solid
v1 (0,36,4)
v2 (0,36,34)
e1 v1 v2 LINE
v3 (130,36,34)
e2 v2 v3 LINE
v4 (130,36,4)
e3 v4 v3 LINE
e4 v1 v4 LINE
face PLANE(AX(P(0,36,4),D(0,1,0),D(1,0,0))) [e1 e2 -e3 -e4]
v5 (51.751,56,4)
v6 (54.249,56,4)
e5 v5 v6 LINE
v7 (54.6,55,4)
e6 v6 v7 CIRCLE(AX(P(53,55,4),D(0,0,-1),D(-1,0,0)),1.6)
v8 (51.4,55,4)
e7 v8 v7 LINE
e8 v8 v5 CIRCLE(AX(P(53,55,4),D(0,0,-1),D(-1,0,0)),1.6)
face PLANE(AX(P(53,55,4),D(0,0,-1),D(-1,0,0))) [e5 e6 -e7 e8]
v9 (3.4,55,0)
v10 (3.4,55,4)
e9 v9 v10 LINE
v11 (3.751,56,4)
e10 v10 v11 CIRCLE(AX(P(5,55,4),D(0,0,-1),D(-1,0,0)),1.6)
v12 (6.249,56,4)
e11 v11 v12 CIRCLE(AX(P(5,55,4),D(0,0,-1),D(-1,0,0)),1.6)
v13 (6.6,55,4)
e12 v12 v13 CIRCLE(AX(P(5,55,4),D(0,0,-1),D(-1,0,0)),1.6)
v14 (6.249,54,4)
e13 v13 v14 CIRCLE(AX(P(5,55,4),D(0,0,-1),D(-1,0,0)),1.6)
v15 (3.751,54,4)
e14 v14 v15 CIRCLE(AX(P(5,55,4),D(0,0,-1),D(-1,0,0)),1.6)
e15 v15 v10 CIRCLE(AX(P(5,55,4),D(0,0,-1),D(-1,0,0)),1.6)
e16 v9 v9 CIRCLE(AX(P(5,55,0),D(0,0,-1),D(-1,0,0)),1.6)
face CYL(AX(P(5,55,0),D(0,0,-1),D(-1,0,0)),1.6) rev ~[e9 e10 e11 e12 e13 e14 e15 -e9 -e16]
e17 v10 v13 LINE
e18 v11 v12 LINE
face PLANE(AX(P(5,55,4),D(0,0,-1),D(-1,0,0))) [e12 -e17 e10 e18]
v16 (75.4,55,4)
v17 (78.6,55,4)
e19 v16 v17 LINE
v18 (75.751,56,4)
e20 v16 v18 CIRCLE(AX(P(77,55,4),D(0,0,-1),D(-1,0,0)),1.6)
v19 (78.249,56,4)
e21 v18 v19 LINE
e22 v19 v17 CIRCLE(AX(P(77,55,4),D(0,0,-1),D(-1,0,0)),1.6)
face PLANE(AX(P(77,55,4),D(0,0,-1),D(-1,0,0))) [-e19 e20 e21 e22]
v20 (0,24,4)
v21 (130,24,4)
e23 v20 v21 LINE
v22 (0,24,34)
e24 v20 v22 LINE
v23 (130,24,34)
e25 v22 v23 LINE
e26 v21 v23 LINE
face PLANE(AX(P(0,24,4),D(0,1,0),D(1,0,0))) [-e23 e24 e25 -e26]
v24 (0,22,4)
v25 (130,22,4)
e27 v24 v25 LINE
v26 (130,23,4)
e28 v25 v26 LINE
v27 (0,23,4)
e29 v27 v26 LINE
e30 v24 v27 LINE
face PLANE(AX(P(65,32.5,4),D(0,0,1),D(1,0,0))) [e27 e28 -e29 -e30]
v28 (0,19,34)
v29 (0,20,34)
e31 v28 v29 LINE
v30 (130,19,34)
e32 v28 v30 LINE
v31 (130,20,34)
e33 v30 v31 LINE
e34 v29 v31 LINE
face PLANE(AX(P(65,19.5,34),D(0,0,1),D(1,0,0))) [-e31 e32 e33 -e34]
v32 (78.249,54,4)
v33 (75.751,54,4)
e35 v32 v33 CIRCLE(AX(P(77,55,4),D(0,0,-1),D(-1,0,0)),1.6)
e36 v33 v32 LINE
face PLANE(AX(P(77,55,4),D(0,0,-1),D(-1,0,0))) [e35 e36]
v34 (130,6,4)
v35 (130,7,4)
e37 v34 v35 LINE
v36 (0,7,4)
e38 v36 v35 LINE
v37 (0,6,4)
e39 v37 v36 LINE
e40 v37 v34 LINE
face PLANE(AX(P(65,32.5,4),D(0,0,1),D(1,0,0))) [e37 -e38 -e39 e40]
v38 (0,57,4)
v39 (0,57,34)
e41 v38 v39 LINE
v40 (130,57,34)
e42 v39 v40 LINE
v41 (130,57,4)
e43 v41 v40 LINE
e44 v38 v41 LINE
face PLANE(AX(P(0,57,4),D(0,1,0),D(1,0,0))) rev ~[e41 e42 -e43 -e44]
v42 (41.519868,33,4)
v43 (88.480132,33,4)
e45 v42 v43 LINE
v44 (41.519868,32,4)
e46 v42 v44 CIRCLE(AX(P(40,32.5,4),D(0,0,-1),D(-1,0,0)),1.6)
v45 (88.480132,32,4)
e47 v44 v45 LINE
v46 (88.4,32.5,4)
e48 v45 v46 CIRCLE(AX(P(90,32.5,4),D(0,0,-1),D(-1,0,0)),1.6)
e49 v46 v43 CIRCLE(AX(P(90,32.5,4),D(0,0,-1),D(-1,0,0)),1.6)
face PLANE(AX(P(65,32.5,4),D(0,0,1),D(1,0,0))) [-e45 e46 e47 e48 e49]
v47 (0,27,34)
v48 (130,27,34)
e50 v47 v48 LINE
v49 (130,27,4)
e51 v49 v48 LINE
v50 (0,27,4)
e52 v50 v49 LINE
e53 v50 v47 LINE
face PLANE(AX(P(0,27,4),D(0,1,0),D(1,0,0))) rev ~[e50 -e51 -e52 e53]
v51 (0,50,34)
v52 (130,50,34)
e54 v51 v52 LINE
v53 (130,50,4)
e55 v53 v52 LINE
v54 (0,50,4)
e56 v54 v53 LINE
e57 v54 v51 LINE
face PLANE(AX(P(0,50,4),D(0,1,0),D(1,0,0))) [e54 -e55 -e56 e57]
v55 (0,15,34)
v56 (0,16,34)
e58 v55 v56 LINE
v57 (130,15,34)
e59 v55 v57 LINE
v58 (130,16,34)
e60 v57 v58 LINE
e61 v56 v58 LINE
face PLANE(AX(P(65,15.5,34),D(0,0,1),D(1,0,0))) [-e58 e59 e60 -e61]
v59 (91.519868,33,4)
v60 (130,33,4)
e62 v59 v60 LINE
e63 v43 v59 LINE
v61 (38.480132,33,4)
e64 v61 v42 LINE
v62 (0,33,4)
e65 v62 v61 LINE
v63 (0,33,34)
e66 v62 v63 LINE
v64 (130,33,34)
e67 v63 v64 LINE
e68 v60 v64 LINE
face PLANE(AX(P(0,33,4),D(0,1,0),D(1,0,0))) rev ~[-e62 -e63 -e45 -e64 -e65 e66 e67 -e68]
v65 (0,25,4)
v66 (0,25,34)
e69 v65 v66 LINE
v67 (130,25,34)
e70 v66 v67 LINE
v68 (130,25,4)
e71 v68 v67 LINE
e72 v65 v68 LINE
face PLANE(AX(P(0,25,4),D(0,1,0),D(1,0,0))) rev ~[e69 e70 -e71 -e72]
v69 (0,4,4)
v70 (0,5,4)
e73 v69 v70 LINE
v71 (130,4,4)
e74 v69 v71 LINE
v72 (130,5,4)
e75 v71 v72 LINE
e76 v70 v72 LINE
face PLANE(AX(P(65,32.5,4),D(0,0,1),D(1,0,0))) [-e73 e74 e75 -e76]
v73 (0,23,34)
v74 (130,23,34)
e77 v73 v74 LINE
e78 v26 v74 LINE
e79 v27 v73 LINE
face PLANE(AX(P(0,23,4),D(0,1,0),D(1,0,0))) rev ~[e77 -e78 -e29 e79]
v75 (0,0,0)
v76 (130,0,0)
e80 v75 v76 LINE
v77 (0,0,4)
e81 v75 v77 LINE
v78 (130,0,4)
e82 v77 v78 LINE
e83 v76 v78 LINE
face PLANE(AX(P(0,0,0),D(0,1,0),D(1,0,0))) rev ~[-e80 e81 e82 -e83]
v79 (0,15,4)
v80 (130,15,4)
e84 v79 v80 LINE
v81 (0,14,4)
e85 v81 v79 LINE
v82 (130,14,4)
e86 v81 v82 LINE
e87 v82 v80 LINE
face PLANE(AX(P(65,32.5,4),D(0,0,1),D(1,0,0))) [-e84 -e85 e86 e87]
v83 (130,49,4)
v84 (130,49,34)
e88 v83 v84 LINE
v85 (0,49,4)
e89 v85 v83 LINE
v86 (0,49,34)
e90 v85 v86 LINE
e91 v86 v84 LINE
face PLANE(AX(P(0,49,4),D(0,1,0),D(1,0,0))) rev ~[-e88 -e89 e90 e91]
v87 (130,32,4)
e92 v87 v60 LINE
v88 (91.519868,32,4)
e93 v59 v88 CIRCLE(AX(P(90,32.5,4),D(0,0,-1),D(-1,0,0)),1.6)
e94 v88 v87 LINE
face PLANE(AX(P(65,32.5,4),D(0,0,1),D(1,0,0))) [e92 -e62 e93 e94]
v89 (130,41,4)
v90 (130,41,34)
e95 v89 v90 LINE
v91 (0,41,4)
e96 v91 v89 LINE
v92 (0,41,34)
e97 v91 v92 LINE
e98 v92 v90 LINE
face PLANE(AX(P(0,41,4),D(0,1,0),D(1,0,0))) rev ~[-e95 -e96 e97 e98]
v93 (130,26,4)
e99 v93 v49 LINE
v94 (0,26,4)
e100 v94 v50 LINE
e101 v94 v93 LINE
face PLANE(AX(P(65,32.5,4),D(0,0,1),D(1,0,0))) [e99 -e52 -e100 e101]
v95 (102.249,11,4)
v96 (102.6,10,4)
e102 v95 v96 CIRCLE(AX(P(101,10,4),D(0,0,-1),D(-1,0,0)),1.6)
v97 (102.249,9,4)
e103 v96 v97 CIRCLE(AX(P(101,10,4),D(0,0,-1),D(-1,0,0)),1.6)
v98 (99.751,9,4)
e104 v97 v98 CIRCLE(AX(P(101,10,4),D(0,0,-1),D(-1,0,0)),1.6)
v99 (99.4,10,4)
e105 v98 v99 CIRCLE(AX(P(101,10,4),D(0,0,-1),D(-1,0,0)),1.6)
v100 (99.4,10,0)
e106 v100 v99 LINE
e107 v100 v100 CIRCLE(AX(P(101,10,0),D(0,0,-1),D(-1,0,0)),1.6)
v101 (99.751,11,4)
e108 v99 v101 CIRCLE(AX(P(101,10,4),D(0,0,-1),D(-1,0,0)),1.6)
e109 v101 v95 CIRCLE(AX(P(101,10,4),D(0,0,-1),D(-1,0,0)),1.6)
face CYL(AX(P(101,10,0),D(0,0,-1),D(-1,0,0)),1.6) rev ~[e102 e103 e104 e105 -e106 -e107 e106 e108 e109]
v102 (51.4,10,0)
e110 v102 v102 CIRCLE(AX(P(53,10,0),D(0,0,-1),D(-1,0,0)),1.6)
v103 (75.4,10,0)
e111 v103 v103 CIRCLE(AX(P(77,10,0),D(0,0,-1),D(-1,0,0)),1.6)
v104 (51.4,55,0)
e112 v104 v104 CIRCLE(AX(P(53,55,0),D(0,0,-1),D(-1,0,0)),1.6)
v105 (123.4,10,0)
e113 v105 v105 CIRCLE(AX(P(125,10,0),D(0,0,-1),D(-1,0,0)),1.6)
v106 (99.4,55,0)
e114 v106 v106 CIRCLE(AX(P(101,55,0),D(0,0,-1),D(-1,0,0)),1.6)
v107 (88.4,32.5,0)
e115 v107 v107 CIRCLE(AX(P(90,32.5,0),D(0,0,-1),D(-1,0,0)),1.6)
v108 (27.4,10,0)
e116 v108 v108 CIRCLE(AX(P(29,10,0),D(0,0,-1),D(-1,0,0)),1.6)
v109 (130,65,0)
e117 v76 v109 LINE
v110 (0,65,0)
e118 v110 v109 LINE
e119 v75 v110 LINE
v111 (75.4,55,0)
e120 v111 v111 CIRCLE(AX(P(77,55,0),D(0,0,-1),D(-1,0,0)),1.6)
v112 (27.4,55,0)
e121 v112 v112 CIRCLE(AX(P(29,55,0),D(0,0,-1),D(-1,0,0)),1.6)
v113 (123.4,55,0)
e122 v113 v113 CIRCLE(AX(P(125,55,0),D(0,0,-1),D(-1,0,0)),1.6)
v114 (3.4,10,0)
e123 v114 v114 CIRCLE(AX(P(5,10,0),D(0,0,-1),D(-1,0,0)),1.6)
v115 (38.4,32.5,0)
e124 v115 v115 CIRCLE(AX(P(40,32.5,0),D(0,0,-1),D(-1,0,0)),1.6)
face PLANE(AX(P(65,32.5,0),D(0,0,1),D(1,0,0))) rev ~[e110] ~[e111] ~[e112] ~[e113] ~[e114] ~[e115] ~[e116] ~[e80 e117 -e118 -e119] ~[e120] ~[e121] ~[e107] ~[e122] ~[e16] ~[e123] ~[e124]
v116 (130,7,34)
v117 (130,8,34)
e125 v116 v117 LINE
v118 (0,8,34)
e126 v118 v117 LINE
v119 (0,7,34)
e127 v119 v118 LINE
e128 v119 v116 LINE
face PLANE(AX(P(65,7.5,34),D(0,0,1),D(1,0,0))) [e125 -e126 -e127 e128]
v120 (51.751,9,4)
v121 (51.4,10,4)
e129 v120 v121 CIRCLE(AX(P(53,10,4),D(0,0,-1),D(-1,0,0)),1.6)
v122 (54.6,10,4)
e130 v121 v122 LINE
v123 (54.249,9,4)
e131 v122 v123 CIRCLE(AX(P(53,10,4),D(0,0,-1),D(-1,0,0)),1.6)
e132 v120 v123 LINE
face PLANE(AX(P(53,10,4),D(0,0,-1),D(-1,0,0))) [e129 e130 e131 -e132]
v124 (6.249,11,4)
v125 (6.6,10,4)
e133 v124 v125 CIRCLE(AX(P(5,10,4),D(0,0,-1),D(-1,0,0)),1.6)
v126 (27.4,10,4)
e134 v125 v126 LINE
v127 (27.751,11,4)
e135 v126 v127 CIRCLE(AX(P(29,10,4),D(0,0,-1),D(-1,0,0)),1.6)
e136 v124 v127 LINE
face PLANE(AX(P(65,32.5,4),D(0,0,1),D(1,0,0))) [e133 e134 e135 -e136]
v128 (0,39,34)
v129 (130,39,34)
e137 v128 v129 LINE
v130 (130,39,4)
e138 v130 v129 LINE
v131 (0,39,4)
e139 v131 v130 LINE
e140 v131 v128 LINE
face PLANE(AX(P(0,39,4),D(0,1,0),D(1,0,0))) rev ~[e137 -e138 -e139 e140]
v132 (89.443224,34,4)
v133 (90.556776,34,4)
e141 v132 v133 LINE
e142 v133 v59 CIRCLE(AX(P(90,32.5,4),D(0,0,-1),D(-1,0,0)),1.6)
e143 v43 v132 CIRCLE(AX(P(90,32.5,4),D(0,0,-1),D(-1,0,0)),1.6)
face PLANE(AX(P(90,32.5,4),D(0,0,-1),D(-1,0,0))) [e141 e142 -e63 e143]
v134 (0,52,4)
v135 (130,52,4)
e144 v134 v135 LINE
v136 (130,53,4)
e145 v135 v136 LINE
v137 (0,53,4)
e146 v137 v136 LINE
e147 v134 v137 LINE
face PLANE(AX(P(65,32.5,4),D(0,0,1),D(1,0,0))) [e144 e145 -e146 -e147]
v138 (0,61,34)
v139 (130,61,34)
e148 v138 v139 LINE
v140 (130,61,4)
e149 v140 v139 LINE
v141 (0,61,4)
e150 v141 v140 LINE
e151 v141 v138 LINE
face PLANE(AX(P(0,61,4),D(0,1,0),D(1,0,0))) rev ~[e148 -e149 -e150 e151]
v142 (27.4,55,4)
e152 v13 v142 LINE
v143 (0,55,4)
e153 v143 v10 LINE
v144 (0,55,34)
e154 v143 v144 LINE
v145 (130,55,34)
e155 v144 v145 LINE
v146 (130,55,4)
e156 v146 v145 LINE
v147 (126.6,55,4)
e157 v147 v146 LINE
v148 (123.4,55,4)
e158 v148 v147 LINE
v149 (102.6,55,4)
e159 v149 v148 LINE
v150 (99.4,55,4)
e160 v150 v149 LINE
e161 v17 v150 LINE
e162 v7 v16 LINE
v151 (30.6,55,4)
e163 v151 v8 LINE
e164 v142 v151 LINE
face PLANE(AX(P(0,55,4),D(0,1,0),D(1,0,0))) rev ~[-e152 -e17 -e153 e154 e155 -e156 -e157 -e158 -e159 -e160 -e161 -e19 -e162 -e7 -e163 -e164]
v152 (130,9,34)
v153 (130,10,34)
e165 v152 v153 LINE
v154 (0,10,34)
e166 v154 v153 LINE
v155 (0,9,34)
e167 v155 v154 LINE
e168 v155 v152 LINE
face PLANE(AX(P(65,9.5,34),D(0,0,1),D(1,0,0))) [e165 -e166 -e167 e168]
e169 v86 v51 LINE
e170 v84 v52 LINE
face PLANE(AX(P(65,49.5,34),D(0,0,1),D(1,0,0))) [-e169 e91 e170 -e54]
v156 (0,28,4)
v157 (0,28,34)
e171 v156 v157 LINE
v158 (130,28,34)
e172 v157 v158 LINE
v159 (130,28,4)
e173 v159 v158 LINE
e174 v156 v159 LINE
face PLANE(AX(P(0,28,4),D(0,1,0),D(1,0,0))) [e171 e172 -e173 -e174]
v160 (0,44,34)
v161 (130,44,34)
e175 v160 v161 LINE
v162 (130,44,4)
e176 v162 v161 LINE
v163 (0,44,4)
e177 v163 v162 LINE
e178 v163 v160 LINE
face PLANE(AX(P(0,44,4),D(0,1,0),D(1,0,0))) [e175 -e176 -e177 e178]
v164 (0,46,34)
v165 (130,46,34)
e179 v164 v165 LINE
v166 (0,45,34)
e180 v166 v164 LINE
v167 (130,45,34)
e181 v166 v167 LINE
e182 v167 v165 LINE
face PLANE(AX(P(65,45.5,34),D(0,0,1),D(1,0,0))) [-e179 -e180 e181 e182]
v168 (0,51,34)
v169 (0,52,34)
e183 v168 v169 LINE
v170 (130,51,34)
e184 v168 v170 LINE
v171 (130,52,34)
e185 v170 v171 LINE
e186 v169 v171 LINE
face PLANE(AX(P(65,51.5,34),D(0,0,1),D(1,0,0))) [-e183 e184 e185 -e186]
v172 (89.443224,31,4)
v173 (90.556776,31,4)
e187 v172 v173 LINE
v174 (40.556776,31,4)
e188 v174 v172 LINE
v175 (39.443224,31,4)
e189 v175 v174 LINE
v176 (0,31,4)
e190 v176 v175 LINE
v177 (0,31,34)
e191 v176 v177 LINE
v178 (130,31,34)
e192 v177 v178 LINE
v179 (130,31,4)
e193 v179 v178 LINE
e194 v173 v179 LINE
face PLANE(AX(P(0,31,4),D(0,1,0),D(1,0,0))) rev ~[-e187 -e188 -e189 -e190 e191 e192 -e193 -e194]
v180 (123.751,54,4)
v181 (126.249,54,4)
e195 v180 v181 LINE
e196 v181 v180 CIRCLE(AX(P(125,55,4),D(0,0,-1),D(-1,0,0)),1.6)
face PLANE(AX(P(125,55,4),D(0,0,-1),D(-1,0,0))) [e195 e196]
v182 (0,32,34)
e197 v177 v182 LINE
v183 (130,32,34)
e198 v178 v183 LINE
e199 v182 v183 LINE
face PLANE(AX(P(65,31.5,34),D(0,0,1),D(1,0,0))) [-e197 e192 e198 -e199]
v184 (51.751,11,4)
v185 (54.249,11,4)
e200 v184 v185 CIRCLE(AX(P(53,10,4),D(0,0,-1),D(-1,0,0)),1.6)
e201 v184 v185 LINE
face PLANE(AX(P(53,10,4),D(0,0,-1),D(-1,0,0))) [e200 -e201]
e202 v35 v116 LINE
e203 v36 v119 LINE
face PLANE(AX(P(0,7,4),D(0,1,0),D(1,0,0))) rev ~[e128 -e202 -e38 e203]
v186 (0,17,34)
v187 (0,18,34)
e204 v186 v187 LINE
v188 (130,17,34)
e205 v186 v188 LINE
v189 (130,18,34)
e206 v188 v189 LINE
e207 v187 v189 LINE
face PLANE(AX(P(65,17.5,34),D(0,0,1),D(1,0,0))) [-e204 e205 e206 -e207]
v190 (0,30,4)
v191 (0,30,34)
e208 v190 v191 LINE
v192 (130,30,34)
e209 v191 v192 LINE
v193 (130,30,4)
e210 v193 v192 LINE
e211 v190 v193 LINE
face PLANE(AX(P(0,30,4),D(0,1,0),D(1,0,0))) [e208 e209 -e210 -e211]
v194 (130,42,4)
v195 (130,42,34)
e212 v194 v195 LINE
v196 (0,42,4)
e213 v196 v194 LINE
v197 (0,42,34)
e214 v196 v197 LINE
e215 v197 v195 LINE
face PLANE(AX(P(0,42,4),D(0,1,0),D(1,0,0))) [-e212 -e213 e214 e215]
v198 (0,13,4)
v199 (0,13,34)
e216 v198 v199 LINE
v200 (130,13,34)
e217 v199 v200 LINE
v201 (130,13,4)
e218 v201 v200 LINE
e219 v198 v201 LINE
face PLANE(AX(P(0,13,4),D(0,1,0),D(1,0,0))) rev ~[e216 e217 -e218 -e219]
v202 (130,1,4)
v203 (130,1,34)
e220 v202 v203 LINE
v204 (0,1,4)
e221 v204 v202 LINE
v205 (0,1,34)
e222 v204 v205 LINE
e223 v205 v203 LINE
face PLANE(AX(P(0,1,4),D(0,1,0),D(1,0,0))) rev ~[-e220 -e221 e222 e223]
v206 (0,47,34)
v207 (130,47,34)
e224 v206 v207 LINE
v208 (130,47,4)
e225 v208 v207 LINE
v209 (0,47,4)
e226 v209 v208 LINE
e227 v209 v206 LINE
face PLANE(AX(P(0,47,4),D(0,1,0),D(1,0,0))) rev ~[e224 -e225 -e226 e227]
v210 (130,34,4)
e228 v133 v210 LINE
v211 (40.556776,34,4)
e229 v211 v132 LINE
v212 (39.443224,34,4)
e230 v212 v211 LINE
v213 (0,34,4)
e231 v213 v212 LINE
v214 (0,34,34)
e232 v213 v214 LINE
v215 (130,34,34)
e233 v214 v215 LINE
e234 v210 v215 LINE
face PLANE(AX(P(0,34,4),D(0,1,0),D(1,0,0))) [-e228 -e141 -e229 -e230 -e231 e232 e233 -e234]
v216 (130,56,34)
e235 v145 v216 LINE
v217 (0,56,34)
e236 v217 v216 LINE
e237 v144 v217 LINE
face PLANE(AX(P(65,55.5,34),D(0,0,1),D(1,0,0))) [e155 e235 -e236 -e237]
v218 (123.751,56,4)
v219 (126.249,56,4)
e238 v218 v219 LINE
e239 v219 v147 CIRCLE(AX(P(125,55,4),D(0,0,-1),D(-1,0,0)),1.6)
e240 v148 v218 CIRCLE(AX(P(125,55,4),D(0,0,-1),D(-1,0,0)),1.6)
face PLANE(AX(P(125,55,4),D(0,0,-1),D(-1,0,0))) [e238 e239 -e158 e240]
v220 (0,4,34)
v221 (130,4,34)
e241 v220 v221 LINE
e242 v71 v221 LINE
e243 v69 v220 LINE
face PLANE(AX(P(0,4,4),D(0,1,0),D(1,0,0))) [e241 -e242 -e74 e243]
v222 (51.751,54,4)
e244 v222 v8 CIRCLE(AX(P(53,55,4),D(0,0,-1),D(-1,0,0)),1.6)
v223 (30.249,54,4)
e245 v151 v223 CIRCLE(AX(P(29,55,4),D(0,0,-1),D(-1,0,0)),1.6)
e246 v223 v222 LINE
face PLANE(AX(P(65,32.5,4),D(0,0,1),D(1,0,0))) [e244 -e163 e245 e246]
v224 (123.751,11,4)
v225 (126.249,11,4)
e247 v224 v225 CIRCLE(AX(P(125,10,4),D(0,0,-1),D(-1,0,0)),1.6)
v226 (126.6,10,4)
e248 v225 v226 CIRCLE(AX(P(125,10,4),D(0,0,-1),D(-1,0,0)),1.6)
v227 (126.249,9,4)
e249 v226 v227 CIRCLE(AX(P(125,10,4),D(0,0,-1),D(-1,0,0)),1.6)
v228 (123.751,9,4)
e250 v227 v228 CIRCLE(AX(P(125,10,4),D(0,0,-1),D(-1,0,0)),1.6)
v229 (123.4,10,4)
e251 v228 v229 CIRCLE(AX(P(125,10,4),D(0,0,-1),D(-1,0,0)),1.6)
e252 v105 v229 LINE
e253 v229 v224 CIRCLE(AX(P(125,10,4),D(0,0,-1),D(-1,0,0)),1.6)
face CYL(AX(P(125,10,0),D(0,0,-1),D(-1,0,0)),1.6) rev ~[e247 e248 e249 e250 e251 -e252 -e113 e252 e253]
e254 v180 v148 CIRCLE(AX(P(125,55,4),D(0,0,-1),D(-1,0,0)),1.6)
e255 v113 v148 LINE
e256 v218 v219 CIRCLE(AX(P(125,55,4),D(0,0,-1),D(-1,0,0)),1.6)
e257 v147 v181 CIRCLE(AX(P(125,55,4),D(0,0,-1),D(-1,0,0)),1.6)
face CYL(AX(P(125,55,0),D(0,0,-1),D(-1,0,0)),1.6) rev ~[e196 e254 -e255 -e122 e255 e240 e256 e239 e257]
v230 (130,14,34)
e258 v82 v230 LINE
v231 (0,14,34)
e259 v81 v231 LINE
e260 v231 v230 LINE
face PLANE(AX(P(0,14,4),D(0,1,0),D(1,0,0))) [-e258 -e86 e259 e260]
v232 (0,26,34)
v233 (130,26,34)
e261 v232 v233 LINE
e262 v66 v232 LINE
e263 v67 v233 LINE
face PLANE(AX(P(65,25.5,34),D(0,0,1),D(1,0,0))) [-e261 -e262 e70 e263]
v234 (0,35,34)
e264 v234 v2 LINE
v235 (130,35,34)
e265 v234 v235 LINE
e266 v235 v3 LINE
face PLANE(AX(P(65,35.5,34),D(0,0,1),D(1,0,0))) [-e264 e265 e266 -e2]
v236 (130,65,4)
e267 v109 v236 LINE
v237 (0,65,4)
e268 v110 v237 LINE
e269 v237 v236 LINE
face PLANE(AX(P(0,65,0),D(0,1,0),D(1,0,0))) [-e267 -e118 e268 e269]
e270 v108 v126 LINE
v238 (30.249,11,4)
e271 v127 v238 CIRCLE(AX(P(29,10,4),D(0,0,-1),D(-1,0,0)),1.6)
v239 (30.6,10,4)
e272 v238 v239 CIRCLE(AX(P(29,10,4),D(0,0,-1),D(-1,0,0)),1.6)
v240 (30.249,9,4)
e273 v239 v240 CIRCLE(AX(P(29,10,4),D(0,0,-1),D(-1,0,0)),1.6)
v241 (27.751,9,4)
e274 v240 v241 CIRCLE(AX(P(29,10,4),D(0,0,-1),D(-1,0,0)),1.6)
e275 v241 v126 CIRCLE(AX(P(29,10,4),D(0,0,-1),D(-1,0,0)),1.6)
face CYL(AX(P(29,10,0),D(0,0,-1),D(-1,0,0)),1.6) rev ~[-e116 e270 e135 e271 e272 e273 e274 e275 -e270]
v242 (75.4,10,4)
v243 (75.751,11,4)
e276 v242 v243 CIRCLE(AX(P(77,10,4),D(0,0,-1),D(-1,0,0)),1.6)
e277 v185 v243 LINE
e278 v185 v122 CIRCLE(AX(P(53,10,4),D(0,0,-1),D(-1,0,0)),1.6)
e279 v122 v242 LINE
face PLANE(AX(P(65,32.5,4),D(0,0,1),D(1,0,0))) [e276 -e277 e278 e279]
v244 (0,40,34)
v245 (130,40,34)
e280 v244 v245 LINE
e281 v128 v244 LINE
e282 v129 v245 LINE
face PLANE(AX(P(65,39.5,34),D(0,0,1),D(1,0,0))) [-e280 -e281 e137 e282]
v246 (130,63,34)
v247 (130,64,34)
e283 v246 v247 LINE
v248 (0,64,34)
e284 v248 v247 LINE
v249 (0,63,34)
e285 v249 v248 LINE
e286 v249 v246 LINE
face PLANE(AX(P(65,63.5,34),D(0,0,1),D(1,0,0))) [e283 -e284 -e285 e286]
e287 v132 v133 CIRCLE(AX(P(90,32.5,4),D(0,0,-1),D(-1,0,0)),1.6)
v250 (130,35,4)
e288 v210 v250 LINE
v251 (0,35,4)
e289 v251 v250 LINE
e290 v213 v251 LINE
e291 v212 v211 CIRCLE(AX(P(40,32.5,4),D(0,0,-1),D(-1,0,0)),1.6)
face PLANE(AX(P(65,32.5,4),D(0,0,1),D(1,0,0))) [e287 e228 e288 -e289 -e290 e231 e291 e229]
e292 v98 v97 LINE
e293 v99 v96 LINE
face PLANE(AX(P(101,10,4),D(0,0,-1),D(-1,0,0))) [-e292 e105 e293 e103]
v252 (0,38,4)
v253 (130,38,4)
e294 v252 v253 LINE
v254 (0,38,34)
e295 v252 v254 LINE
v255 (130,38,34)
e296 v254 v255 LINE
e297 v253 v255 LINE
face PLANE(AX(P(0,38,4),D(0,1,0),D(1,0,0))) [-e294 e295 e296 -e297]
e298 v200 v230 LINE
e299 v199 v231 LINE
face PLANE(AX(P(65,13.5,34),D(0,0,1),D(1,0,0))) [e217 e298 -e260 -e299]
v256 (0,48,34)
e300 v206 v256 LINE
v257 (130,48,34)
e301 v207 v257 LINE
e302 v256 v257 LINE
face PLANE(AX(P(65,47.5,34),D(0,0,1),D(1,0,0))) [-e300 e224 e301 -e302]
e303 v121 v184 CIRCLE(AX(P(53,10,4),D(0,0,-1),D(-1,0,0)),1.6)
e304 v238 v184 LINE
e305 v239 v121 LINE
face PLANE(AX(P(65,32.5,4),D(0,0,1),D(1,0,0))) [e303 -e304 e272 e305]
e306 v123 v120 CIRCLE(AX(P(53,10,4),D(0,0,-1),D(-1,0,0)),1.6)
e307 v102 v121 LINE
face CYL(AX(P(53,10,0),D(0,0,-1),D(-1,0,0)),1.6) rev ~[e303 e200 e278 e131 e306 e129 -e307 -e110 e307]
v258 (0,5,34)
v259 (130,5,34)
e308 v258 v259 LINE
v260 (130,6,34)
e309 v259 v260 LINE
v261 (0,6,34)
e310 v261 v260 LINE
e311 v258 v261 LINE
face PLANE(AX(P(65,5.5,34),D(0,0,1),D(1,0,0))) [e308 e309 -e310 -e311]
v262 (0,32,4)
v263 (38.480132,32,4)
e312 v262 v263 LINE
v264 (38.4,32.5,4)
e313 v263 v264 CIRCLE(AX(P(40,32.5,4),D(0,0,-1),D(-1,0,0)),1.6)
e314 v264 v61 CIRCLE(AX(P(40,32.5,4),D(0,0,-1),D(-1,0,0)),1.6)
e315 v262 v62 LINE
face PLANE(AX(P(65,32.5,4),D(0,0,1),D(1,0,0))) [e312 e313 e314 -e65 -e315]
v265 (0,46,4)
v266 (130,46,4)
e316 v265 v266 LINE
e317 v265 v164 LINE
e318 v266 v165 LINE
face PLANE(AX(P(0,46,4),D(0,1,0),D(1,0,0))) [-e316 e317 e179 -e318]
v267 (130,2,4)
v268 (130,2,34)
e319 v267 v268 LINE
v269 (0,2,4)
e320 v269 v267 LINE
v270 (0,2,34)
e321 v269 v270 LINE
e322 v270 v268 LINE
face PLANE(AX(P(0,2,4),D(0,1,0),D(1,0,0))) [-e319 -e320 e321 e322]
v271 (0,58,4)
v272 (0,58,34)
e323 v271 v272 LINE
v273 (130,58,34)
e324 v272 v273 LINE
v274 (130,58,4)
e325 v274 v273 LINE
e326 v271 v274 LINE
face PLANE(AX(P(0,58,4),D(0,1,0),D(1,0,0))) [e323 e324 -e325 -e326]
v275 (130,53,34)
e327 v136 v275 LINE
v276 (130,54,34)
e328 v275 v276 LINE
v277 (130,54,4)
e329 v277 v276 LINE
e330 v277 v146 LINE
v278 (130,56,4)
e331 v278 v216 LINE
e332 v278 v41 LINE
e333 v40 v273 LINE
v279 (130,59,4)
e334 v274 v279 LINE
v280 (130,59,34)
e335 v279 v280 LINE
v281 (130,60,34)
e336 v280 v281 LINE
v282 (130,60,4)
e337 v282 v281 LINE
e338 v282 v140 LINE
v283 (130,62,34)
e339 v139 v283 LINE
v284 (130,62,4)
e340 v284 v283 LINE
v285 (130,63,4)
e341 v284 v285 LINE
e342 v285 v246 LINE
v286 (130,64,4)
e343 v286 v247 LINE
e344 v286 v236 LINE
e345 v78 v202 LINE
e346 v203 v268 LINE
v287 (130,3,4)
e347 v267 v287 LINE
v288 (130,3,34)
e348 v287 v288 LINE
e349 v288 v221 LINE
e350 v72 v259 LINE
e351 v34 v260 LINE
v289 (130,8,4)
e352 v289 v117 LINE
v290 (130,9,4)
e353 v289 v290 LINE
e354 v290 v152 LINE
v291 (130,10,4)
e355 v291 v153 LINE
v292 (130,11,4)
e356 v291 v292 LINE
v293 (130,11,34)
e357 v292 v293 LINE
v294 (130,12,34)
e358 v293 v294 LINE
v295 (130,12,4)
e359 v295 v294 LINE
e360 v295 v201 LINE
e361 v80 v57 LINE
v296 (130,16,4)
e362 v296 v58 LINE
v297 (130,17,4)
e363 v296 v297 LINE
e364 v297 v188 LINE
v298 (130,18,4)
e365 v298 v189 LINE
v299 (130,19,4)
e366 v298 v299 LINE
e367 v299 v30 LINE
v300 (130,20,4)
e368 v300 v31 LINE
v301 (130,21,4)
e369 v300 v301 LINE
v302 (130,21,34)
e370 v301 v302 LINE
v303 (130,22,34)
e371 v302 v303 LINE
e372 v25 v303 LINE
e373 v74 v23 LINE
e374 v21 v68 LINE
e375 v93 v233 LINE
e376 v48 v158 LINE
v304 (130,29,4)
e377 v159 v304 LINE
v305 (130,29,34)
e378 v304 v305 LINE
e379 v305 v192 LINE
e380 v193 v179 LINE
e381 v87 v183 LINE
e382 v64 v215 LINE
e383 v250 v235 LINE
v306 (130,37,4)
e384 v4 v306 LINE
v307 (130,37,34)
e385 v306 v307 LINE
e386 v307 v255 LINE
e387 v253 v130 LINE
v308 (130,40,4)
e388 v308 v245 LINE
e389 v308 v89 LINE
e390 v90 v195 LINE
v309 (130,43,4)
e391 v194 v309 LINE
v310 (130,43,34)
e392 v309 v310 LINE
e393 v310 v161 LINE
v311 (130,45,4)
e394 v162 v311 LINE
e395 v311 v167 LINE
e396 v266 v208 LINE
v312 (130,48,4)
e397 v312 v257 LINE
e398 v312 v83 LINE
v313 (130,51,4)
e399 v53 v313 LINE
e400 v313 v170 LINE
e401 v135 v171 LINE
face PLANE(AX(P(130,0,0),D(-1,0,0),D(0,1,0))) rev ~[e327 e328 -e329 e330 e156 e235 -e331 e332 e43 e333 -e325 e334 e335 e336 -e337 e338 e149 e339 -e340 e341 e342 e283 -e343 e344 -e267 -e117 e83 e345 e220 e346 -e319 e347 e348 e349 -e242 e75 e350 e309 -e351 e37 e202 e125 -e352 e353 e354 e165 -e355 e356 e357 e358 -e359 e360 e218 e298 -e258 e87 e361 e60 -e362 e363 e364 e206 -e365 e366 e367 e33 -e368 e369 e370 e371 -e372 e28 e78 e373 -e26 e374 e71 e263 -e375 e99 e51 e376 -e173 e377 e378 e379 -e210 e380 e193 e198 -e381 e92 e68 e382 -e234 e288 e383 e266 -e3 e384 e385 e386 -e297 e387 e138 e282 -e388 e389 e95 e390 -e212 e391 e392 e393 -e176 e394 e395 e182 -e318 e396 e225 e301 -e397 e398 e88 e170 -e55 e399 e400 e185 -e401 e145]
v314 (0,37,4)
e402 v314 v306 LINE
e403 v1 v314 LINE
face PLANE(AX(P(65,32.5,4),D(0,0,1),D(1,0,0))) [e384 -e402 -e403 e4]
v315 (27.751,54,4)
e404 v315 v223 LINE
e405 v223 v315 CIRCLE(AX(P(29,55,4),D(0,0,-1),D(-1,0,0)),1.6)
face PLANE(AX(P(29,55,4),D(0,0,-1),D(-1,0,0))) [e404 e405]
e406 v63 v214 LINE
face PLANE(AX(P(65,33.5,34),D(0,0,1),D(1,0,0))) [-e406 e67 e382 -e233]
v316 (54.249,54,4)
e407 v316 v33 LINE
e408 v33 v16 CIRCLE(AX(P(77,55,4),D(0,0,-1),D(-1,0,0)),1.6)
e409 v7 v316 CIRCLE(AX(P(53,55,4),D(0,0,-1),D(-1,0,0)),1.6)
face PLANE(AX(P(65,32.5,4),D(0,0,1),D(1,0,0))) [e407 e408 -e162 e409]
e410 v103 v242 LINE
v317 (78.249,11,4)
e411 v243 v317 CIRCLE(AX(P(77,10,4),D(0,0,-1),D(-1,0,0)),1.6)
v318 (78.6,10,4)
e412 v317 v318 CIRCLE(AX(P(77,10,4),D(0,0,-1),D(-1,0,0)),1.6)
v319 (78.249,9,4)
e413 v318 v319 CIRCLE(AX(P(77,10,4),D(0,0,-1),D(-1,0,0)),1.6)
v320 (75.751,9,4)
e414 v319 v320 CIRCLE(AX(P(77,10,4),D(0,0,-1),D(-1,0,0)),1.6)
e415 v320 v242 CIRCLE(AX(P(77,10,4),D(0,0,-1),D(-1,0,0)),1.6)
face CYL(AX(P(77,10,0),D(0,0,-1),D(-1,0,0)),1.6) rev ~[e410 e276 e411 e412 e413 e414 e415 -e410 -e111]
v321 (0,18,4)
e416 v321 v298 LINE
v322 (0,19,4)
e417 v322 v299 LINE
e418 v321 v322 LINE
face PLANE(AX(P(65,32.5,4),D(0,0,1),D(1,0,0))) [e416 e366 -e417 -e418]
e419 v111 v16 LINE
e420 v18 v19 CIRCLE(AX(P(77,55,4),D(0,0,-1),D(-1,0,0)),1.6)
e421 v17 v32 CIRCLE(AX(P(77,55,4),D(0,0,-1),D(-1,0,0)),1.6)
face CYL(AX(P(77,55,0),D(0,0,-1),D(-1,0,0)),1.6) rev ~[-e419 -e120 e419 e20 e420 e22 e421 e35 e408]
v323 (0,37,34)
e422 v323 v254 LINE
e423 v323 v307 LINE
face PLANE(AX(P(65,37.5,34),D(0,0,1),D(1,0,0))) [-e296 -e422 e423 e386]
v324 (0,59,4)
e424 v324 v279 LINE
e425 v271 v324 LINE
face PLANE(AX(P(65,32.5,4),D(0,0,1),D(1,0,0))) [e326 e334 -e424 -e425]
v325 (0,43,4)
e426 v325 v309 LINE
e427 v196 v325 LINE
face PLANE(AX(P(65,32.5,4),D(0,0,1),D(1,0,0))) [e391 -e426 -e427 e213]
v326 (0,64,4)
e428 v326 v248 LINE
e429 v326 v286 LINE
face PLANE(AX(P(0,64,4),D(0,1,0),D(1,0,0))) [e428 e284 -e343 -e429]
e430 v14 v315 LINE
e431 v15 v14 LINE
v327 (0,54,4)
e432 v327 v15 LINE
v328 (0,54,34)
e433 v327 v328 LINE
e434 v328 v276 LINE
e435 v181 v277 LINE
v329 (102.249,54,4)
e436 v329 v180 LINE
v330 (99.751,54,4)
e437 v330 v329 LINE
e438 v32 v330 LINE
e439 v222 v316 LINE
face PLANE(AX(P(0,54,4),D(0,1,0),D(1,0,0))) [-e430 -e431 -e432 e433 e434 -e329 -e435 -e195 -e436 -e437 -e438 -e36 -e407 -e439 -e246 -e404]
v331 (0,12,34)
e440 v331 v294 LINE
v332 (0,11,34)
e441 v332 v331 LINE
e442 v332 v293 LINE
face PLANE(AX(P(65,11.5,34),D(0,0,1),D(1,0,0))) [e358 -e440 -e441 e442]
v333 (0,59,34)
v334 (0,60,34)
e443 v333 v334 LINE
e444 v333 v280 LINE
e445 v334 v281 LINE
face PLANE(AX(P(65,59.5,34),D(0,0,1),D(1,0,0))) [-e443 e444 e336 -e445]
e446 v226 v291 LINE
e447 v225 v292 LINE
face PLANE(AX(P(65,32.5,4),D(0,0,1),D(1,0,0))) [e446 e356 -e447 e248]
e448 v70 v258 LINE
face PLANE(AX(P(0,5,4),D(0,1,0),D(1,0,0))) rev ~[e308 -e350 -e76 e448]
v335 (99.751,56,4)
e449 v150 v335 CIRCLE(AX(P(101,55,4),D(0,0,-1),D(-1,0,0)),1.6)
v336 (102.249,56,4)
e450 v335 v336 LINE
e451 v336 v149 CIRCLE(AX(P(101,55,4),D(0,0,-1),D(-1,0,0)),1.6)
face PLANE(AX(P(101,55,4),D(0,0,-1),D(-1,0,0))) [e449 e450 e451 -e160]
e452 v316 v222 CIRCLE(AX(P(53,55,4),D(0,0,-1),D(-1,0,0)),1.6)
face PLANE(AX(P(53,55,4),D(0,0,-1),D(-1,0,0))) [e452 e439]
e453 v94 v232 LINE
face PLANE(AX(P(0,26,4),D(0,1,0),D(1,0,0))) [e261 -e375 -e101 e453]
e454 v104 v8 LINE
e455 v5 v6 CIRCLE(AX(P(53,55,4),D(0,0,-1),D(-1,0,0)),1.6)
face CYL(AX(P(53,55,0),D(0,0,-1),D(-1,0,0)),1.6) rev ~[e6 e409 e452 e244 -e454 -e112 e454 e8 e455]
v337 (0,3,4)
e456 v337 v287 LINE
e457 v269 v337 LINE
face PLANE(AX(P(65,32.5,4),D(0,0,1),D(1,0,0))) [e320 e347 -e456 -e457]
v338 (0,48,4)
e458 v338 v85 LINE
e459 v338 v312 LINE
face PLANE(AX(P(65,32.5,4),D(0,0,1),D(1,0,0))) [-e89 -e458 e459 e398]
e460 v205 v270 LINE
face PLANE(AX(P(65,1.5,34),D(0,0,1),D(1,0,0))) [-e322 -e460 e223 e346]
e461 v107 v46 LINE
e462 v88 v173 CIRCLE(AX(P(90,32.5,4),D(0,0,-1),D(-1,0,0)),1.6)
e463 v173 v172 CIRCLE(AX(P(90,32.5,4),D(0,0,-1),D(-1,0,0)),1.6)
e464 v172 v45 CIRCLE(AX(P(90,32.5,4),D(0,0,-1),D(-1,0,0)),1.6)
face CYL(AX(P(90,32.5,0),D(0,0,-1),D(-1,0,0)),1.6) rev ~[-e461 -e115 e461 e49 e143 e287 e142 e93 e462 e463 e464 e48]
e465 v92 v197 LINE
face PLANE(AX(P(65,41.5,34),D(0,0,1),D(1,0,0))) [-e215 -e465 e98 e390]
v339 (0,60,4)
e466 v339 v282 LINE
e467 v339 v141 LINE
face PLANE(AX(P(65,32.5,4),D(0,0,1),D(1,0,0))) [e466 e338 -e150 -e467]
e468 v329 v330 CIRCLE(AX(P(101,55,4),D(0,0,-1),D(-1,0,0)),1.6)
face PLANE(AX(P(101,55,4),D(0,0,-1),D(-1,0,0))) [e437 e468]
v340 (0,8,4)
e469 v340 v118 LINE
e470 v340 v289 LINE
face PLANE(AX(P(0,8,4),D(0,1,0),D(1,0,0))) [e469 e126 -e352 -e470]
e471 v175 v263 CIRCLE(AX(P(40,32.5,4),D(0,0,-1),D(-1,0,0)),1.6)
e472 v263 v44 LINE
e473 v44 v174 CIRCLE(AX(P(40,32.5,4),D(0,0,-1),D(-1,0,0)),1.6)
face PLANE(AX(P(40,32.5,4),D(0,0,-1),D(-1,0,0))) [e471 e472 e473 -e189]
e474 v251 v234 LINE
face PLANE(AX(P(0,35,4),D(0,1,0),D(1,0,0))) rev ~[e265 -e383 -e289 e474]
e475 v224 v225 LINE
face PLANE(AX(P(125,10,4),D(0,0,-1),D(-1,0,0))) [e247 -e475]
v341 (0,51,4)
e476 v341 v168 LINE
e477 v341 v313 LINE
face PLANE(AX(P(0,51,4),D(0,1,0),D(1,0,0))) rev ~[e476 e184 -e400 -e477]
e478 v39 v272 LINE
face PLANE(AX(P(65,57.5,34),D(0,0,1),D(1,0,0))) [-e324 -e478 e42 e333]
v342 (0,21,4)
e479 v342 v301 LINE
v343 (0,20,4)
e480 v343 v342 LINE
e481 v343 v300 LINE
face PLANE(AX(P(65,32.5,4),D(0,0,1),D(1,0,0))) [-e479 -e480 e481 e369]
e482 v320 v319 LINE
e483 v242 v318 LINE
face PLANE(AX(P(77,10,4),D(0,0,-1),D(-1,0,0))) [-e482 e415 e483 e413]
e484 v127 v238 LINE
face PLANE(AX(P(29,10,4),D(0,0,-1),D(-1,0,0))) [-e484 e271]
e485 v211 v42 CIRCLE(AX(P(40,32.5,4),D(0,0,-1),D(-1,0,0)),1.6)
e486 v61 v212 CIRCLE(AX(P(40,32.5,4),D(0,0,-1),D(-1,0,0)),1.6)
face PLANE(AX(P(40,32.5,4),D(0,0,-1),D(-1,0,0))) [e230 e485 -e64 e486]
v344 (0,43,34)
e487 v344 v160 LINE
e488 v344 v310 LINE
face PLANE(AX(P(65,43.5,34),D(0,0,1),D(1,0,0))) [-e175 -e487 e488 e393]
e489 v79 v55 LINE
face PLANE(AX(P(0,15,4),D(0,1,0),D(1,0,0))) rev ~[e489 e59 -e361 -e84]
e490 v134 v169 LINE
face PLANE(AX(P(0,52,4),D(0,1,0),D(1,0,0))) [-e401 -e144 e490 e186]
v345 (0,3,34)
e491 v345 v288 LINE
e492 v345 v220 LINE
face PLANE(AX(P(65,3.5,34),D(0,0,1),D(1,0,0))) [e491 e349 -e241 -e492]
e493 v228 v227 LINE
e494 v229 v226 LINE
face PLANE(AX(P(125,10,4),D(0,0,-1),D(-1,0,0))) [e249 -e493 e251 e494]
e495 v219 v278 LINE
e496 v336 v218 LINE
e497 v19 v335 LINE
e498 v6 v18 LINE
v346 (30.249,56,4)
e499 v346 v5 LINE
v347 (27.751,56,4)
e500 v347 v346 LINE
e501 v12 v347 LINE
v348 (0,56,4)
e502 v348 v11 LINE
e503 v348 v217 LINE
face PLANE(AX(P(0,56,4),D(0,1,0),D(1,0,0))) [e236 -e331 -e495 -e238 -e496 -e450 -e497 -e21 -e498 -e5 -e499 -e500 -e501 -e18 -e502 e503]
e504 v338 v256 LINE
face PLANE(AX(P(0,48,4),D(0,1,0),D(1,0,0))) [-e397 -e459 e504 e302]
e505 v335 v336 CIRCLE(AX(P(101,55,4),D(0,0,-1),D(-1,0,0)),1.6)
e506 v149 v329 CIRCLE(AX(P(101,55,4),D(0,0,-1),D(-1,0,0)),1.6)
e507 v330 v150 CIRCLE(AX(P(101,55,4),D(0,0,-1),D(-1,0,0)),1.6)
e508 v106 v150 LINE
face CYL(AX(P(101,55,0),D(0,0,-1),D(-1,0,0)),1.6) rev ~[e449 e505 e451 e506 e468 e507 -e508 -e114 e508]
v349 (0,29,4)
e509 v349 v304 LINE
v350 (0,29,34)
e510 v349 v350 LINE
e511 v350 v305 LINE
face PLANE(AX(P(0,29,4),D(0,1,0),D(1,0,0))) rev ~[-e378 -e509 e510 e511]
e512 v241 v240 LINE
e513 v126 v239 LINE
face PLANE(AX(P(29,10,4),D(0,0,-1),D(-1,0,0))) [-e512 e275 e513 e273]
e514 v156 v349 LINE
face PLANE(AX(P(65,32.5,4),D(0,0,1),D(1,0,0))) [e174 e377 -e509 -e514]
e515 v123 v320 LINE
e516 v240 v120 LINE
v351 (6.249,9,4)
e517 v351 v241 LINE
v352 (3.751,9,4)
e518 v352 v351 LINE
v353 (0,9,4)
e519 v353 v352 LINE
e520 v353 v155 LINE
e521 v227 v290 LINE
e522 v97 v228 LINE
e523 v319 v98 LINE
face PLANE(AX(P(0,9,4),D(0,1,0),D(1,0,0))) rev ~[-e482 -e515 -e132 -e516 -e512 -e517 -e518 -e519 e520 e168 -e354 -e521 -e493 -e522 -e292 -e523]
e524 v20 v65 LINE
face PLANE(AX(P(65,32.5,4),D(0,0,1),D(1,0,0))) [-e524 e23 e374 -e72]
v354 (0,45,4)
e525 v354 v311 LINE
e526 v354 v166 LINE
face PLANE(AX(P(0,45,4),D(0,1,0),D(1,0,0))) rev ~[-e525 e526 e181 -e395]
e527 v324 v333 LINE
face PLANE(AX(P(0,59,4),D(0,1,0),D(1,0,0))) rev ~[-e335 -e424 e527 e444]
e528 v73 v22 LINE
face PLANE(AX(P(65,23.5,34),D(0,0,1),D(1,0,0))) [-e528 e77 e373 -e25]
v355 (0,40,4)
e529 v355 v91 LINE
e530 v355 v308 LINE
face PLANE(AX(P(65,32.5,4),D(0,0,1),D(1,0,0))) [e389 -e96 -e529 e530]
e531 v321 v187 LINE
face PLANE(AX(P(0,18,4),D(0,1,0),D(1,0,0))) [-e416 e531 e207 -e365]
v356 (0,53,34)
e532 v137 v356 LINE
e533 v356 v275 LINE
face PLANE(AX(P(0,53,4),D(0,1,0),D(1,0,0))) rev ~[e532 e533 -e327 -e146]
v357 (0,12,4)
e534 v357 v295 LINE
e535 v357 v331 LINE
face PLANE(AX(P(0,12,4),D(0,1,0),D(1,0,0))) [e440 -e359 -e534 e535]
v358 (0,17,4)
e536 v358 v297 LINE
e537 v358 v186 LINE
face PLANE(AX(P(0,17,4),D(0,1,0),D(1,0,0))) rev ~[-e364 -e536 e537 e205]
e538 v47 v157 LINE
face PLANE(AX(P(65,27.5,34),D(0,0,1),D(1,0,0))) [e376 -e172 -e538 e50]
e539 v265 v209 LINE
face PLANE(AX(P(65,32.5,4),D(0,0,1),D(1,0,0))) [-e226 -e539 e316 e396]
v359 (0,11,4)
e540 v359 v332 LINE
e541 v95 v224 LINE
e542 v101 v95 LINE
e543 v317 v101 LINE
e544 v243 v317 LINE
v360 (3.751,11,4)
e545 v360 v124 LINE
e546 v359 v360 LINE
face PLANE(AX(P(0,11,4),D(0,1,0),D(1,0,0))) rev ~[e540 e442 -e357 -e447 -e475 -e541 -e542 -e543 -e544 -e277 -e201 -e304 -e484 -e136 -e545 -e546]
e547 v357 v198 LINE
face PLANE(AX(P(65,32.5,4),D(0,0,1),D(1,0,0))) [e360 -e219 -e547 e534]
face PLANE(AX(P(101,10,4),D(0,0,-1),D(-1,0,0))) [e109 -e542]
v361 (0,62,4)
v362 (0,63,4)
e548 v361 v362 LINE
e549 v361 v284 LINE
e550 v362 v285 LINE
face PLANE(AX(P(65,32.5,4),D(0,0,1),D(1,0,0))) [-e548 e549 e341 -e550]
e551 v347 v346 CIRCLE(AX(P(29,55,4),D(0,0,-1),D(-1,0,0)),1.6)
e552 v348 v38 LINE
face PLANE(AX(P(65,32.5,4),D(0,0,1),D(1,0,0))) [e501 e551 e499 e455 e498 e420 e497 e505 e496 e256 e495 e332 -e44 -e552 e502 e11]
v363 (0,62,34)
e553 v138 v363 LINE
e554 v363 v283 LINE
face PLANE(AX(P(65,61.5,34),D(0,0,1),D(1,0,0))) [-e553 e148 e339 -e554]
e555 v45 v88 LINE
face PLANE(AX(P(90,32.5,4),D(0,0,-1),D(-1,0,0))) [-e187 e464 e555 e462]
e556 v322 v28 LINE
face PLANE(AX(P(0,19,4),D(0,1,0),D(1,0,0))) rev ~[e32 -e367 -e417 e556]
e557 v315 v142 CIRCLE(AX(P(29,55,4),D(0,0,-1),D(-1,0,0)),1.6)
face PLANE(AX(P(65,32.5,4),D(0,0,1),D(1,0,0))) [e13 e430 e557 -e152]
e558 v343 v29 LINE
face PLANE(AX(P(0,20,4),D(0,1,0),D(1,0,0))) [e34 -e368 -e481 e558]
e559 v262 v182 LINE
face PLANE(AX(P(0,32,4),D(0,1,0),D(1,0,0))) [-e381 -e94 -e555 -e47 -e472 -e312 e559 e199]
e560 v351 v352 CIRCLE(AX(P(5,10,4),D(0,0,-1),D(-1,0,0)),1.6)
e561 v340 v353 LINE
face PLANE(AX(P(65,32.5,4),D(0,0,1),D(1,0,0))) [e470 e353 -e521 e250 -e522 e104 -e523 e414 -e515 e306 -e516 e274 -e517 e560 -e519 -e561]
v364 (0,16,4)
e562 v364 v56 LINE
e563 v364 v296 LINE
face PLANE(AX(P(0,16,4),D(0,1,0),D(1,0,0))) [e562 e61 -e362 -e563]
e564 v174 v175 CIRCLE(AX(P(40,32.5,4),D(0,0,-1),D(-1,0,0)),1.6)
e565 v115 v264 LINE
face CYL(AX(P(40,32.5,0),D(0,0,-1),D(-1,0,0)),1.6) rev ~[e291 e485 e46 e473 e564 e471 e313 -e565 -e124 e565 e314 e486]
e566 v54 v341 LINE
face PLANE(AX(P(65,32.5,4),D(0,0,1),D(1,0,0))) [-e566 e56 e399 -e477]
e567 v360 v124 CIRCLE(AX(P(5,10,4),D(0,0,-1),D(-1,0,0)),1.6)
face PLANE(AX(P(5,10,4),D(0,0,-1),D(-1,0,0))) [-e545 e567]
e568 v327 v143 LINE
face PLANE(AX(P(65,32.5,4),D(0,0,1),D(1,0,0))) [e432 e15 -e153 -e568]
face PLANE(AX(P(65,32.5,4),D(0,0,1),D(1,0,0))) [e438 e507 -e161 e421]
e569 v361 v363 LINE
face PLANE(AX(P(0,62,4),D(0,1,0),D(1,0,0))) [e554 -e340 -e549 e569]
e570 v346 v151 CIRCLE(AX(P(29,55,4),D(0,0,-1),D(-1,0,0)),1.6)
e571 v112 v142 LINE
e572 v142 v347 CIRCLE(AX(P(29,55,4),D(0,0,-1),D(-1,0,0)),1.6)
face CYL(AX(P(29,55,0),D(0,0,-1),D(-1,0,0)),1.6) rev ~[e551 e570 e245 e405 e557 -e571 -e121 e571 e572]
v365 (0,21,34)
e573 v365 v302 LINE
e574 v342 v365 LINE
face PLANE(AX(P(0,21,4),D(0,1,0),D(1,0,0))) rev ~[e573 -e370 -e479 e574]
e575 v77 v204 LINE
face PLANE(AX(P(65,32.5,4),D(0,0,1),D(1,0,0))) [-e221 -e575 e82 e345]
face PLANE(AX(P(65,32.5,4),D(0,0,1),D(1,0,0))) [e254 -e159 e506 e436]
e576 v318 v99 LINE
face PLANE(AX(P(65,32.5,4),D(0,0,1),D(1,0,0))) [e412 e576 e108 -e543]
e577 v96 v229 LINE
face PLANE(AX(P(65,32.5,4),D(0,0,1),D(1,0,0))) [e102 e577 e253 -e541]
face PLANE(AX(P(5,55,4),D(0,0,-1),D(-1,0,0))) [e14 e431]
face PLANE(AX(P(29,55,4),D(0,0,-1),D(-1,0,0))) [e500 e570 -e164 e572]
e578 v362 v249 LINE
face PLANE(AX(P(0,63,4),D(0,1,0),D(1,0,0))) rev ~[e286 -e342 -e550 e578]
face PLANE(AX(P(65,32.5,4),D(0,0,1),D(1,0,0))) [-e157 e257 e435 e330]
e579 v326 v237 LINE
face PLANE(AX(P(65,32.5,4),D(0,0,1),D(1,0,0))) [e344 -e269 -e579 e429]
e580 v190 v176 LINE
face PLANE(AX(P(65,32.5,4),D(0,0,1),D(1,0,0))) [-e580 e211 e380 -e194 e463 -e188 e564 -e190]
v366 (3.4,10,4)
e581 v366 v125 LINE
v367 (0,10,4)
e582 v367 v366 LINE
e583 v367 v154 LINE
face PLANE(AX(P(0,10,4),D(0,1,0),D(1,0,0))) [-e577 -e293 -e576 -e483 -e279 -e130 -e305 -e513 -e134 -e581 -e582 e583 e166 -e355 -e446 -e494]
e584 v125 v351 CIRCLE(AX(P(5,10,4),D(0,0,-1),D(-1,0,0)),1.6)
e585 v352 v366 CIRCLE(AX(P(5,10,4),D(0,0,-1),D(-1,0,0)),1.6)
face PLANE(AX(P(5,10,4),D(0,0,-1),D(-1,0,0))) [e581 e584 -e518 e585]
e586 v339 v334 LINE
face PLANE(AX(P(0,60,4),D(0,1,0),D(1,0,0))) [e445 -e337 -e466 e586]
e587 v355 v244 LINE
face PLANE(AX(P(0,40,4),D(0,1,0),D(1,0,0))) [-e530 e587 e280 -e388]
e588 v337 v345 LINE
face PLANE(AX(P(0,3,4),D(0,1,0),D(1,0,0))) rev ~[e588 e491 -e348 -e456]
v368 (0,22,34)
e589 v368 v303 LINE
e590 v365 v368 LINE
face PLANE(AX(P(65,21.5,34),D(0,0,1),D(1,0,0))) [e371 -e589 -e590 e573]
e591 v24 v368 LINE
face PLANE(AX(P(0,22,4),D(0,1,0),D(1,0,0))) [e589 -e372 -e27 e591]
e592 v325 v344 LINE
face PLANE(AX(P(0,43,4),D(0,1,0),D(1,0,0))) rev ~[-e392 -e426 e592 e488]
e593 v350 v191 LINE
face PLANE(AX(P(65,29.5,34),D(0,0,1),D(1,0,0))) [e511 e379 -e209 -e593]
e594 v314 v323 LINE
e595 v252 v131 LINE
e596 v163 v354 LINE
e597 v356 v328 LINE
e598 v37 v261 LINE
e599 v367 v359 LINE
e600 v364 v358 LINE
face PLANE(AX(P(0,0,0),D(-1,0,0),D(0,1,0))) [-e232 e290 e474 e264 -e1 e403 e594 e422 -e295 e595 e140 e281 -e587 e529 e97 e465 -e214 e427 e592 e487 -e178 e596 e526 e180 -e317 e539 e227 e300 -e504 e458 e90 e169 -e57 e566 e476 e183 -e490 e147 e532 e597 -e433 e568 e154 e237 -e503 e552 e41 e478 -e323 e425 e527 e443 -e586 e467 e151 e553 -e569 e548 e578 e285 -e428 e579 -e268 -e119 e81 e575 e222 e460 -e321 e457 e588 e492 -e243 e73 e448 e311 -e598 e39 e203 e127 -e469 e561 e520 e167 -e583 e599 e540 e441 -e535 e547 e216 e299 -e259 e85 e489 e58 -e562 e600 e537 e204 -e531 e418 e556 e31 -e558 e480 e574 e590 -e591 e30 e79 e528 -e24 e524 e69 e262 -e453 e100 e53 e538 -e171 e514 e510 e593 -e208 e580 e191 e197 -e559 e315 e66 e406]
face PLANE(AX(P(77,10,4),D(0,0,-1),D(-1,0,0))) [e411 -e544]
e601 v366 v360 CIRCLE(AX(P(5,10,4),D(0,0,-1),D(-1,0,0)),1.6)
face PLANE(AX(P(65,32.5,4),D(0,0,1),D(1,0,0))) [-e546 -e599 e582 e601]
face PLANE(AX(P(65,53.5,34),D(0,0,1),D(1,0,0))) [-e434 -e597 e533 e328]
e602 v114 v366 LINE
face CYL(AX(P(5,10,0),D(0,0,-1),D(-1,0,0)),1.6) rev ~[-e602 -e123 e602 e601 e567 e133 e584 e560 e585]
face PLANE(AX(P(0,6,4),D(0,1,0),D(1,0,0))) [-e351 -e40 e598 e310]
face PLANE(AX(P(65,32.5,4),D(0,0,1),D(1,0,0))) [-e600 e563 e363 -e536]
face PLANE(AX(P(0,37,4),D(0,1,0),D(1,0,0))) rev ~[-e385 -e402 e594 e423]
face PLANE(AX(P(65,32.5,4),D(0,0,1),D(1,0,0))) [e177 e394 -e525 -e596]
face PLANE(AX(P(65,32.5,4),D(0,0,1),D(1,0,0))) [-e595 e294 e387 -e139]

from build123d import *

# Parameters (mm, degrees)
ESQUISSE1_W             = 130
ESQUISSE1_H             = 65
BOSS_EXTRU_1_DEPTH      = 4
ESQUISSE2_W             = 130
ESQUISSE2_H             = 1
BOSS_EXTRU_2_DEPTH      = 30
ESQUISSE3_R             = 1.6
ENL_V_MAT_EXTRU_5_DEPTH = 4


with BuildPart() as part:
    # Esquisse1 → Boss.-Extru.1 (new body)
    with BuildSketch(Plane.XY):
        with Locations((65, 32.5)):
            Rectangle(ESQUISSE1_W, ESQUISSE1_H)
    extrude(amount=BOSS_EXTRU_1_DEPTH)

    # Esquisse2 → Boss.-Extru.2 (add)
    with BuildSketch(Plane.XY.offset(4)):
        with Locations((65, 1.5)):
            Rectangle(ESQUISSE2_W, ESQUISSE2_H)
        with Locations((65, 3.5)):
            Rectangle(ESQUISSE2_W, ESQUISSE2_H)
        with Locations((65, 5.5)):
            Rectangle(ESQUISSE2_W, ESQUISSE2_H)
        with Locations((65, 7.5)):
            Rectangle(ESQUISSE2_W, ESQUISSE2_H)
        with Locations((65, 9.5)):
            Rectangle(ESQUISSE2_W, ESQUISSE2_H)
        with Locations((65, 11.5)):
            Rectangle(ESQUISSE2_W, ESQUISSE2_H)
        with Locations((65, 13.5)):
            Rectangle(ESQUISSE2_W, ESQUISSE2_H)
        with Locations((65, 15.5)):
            Rectangle(ESQUISSE2_W, ESQUISSE2_H)
        with Locations((65, 17.5)):
            Rectangle(ESQUISSE2_W, ESQUISSE2_H)
        with Locations((65, 19.5)):
            Rectangle(ESQUISSE2_W, ESQUISSE2_H)
        with Locations((65, 21.5)):
            Rectangle(ESQUISSE2_W, ESQUISSE2_H)
        with Locations((65, 23.5)):
            Rectangle(ESQUISSE2_W, ESQUISSE2_H)
        with Locations((65, 25.5)):
            Rectangle(ESQUISSE2_W, ESQUISSE2_H)
        with Locations((65, 27.5)):
            Rectangle(ESQUISSE2_W, ESQUISSE2_H)
        with Locations((65, 29.5)):
            Rectangle(ESQUISSE2_W, ESQUISSE2_H)
        with Locations((65, 31.5)):
            Rectangle(ESQUISSE2_W, ESQUISSE2_H)
        with Locations((65, 33.5)):
            Rectangle(ESQUISSE2_W, ESQUISSE2_H)
        with Locations((65, 35.5)):
            Rectangle(ESQUISSE2_W, ESQUISSE2_H)
        with Locations((65, 37.5)):
            Rectangle(ESQUISSE2_W, ESQUISSE2_H)
        with Locations((65, 39.5)):
            Rectangle(ESQUISSE2_W, ESQUISSE2_H)
        with Locations((65, 41.5)):
            Rectangle(ESQUISSE2_W, ESQUISSE2_H)
        with Locations((65, 43.5)):
            Rectangle(ESQUISSE2_W, ESQUISSE2_H)
        with Locations((65, 45.5)):
            Rectangle(ESQUISSE2_W, ESQUISSE2_H)
        with Locations((65, 47.5)):
            Rectangle(ESQUISSE2_W, ESQUISSE2_H)
        with Locations((65, 49.5)):
            Rectangle(ESQUISSE2_W, ESQUISSE2_H)
        with Locations((65, 51.5)):
            Rectangle(ESQUISSE2_W, ESQUISSE2_H)
        with Locations((65, 53.5)):
            Rectangle(ESQUISSE2_W, ESQUISSE2_H)
        with Locations((65, 55.5)):
            Rectangle(ESQUISSE2_W, ESQUISSE2_H)
        with Locations((65, 57.5)):
            Rectangle(ESQUISSE2_W, ESQUISSE2_H)
        with Locations((65, 59.5)):
            Rectangle(ESQUISSE2_W, ESQUISSE2_H)
        with Locations((65, 61.5)):
            Rectangle(ESQUISSE2_W, ESQUISSE2_H)
        with Locations((65, 63.5)):
            Rectangle(ESQUISSE2_W, ESQUISSE2_H)
    extrude(amount=BOSS_EXTRU_2_DEPTH)

    # Esquisse3 → Enlèv. mat.-Extru.5 (cut)
    with BuildSketch(Plane(origin=(0, 0, 0), x_dir=(-1, 0, 0), z_dir=(0, 0, -1))):
        with Locations((-5, 55)):
            Circle(ESQUISSE3_R)
        with Locations((-29, 55)):
            Circle(ESQUISSE3_R)
        with Locations((-53, 55)):
            Circle(ESQUISSE3_R)
        with Locations((-77, 55)):
            Circle(ESQUISSE3_R)
        with Locations((-101, 55)):
            Circle(ESQUISSE3_R)
        with Locations((-125, 55)):
            Circle(ESQUISSE3_R)
        with Locations((-5, 10)):
            Circle(ESQUISSE3_R)
        with Locations((-29, 10)):
            Circle(ESQUISSE3_R)
        with Locations((-53, 10)):
            Circle(ESQUISSE3_R)
        with Locations((-77, 10)):
            Circle(ESQUISSE3_R)
        with Locations((-101, 10)):
            Circle(ESQUISSE3_R)
        with Locations((-125, 10)):
            Circle(ESQUISSE3_R)
        with Locations((-40, 32.5)):
            Circle(ESQUISSE3_R)
        with Locations((-90, 32.5)):
            Circle(ESQUISSE3_R)
    extrude(amount=-ENL_V_MAT_EXTRU_5_DEPTH, mode=Mode.SUBTRACT)


solid = part.part
